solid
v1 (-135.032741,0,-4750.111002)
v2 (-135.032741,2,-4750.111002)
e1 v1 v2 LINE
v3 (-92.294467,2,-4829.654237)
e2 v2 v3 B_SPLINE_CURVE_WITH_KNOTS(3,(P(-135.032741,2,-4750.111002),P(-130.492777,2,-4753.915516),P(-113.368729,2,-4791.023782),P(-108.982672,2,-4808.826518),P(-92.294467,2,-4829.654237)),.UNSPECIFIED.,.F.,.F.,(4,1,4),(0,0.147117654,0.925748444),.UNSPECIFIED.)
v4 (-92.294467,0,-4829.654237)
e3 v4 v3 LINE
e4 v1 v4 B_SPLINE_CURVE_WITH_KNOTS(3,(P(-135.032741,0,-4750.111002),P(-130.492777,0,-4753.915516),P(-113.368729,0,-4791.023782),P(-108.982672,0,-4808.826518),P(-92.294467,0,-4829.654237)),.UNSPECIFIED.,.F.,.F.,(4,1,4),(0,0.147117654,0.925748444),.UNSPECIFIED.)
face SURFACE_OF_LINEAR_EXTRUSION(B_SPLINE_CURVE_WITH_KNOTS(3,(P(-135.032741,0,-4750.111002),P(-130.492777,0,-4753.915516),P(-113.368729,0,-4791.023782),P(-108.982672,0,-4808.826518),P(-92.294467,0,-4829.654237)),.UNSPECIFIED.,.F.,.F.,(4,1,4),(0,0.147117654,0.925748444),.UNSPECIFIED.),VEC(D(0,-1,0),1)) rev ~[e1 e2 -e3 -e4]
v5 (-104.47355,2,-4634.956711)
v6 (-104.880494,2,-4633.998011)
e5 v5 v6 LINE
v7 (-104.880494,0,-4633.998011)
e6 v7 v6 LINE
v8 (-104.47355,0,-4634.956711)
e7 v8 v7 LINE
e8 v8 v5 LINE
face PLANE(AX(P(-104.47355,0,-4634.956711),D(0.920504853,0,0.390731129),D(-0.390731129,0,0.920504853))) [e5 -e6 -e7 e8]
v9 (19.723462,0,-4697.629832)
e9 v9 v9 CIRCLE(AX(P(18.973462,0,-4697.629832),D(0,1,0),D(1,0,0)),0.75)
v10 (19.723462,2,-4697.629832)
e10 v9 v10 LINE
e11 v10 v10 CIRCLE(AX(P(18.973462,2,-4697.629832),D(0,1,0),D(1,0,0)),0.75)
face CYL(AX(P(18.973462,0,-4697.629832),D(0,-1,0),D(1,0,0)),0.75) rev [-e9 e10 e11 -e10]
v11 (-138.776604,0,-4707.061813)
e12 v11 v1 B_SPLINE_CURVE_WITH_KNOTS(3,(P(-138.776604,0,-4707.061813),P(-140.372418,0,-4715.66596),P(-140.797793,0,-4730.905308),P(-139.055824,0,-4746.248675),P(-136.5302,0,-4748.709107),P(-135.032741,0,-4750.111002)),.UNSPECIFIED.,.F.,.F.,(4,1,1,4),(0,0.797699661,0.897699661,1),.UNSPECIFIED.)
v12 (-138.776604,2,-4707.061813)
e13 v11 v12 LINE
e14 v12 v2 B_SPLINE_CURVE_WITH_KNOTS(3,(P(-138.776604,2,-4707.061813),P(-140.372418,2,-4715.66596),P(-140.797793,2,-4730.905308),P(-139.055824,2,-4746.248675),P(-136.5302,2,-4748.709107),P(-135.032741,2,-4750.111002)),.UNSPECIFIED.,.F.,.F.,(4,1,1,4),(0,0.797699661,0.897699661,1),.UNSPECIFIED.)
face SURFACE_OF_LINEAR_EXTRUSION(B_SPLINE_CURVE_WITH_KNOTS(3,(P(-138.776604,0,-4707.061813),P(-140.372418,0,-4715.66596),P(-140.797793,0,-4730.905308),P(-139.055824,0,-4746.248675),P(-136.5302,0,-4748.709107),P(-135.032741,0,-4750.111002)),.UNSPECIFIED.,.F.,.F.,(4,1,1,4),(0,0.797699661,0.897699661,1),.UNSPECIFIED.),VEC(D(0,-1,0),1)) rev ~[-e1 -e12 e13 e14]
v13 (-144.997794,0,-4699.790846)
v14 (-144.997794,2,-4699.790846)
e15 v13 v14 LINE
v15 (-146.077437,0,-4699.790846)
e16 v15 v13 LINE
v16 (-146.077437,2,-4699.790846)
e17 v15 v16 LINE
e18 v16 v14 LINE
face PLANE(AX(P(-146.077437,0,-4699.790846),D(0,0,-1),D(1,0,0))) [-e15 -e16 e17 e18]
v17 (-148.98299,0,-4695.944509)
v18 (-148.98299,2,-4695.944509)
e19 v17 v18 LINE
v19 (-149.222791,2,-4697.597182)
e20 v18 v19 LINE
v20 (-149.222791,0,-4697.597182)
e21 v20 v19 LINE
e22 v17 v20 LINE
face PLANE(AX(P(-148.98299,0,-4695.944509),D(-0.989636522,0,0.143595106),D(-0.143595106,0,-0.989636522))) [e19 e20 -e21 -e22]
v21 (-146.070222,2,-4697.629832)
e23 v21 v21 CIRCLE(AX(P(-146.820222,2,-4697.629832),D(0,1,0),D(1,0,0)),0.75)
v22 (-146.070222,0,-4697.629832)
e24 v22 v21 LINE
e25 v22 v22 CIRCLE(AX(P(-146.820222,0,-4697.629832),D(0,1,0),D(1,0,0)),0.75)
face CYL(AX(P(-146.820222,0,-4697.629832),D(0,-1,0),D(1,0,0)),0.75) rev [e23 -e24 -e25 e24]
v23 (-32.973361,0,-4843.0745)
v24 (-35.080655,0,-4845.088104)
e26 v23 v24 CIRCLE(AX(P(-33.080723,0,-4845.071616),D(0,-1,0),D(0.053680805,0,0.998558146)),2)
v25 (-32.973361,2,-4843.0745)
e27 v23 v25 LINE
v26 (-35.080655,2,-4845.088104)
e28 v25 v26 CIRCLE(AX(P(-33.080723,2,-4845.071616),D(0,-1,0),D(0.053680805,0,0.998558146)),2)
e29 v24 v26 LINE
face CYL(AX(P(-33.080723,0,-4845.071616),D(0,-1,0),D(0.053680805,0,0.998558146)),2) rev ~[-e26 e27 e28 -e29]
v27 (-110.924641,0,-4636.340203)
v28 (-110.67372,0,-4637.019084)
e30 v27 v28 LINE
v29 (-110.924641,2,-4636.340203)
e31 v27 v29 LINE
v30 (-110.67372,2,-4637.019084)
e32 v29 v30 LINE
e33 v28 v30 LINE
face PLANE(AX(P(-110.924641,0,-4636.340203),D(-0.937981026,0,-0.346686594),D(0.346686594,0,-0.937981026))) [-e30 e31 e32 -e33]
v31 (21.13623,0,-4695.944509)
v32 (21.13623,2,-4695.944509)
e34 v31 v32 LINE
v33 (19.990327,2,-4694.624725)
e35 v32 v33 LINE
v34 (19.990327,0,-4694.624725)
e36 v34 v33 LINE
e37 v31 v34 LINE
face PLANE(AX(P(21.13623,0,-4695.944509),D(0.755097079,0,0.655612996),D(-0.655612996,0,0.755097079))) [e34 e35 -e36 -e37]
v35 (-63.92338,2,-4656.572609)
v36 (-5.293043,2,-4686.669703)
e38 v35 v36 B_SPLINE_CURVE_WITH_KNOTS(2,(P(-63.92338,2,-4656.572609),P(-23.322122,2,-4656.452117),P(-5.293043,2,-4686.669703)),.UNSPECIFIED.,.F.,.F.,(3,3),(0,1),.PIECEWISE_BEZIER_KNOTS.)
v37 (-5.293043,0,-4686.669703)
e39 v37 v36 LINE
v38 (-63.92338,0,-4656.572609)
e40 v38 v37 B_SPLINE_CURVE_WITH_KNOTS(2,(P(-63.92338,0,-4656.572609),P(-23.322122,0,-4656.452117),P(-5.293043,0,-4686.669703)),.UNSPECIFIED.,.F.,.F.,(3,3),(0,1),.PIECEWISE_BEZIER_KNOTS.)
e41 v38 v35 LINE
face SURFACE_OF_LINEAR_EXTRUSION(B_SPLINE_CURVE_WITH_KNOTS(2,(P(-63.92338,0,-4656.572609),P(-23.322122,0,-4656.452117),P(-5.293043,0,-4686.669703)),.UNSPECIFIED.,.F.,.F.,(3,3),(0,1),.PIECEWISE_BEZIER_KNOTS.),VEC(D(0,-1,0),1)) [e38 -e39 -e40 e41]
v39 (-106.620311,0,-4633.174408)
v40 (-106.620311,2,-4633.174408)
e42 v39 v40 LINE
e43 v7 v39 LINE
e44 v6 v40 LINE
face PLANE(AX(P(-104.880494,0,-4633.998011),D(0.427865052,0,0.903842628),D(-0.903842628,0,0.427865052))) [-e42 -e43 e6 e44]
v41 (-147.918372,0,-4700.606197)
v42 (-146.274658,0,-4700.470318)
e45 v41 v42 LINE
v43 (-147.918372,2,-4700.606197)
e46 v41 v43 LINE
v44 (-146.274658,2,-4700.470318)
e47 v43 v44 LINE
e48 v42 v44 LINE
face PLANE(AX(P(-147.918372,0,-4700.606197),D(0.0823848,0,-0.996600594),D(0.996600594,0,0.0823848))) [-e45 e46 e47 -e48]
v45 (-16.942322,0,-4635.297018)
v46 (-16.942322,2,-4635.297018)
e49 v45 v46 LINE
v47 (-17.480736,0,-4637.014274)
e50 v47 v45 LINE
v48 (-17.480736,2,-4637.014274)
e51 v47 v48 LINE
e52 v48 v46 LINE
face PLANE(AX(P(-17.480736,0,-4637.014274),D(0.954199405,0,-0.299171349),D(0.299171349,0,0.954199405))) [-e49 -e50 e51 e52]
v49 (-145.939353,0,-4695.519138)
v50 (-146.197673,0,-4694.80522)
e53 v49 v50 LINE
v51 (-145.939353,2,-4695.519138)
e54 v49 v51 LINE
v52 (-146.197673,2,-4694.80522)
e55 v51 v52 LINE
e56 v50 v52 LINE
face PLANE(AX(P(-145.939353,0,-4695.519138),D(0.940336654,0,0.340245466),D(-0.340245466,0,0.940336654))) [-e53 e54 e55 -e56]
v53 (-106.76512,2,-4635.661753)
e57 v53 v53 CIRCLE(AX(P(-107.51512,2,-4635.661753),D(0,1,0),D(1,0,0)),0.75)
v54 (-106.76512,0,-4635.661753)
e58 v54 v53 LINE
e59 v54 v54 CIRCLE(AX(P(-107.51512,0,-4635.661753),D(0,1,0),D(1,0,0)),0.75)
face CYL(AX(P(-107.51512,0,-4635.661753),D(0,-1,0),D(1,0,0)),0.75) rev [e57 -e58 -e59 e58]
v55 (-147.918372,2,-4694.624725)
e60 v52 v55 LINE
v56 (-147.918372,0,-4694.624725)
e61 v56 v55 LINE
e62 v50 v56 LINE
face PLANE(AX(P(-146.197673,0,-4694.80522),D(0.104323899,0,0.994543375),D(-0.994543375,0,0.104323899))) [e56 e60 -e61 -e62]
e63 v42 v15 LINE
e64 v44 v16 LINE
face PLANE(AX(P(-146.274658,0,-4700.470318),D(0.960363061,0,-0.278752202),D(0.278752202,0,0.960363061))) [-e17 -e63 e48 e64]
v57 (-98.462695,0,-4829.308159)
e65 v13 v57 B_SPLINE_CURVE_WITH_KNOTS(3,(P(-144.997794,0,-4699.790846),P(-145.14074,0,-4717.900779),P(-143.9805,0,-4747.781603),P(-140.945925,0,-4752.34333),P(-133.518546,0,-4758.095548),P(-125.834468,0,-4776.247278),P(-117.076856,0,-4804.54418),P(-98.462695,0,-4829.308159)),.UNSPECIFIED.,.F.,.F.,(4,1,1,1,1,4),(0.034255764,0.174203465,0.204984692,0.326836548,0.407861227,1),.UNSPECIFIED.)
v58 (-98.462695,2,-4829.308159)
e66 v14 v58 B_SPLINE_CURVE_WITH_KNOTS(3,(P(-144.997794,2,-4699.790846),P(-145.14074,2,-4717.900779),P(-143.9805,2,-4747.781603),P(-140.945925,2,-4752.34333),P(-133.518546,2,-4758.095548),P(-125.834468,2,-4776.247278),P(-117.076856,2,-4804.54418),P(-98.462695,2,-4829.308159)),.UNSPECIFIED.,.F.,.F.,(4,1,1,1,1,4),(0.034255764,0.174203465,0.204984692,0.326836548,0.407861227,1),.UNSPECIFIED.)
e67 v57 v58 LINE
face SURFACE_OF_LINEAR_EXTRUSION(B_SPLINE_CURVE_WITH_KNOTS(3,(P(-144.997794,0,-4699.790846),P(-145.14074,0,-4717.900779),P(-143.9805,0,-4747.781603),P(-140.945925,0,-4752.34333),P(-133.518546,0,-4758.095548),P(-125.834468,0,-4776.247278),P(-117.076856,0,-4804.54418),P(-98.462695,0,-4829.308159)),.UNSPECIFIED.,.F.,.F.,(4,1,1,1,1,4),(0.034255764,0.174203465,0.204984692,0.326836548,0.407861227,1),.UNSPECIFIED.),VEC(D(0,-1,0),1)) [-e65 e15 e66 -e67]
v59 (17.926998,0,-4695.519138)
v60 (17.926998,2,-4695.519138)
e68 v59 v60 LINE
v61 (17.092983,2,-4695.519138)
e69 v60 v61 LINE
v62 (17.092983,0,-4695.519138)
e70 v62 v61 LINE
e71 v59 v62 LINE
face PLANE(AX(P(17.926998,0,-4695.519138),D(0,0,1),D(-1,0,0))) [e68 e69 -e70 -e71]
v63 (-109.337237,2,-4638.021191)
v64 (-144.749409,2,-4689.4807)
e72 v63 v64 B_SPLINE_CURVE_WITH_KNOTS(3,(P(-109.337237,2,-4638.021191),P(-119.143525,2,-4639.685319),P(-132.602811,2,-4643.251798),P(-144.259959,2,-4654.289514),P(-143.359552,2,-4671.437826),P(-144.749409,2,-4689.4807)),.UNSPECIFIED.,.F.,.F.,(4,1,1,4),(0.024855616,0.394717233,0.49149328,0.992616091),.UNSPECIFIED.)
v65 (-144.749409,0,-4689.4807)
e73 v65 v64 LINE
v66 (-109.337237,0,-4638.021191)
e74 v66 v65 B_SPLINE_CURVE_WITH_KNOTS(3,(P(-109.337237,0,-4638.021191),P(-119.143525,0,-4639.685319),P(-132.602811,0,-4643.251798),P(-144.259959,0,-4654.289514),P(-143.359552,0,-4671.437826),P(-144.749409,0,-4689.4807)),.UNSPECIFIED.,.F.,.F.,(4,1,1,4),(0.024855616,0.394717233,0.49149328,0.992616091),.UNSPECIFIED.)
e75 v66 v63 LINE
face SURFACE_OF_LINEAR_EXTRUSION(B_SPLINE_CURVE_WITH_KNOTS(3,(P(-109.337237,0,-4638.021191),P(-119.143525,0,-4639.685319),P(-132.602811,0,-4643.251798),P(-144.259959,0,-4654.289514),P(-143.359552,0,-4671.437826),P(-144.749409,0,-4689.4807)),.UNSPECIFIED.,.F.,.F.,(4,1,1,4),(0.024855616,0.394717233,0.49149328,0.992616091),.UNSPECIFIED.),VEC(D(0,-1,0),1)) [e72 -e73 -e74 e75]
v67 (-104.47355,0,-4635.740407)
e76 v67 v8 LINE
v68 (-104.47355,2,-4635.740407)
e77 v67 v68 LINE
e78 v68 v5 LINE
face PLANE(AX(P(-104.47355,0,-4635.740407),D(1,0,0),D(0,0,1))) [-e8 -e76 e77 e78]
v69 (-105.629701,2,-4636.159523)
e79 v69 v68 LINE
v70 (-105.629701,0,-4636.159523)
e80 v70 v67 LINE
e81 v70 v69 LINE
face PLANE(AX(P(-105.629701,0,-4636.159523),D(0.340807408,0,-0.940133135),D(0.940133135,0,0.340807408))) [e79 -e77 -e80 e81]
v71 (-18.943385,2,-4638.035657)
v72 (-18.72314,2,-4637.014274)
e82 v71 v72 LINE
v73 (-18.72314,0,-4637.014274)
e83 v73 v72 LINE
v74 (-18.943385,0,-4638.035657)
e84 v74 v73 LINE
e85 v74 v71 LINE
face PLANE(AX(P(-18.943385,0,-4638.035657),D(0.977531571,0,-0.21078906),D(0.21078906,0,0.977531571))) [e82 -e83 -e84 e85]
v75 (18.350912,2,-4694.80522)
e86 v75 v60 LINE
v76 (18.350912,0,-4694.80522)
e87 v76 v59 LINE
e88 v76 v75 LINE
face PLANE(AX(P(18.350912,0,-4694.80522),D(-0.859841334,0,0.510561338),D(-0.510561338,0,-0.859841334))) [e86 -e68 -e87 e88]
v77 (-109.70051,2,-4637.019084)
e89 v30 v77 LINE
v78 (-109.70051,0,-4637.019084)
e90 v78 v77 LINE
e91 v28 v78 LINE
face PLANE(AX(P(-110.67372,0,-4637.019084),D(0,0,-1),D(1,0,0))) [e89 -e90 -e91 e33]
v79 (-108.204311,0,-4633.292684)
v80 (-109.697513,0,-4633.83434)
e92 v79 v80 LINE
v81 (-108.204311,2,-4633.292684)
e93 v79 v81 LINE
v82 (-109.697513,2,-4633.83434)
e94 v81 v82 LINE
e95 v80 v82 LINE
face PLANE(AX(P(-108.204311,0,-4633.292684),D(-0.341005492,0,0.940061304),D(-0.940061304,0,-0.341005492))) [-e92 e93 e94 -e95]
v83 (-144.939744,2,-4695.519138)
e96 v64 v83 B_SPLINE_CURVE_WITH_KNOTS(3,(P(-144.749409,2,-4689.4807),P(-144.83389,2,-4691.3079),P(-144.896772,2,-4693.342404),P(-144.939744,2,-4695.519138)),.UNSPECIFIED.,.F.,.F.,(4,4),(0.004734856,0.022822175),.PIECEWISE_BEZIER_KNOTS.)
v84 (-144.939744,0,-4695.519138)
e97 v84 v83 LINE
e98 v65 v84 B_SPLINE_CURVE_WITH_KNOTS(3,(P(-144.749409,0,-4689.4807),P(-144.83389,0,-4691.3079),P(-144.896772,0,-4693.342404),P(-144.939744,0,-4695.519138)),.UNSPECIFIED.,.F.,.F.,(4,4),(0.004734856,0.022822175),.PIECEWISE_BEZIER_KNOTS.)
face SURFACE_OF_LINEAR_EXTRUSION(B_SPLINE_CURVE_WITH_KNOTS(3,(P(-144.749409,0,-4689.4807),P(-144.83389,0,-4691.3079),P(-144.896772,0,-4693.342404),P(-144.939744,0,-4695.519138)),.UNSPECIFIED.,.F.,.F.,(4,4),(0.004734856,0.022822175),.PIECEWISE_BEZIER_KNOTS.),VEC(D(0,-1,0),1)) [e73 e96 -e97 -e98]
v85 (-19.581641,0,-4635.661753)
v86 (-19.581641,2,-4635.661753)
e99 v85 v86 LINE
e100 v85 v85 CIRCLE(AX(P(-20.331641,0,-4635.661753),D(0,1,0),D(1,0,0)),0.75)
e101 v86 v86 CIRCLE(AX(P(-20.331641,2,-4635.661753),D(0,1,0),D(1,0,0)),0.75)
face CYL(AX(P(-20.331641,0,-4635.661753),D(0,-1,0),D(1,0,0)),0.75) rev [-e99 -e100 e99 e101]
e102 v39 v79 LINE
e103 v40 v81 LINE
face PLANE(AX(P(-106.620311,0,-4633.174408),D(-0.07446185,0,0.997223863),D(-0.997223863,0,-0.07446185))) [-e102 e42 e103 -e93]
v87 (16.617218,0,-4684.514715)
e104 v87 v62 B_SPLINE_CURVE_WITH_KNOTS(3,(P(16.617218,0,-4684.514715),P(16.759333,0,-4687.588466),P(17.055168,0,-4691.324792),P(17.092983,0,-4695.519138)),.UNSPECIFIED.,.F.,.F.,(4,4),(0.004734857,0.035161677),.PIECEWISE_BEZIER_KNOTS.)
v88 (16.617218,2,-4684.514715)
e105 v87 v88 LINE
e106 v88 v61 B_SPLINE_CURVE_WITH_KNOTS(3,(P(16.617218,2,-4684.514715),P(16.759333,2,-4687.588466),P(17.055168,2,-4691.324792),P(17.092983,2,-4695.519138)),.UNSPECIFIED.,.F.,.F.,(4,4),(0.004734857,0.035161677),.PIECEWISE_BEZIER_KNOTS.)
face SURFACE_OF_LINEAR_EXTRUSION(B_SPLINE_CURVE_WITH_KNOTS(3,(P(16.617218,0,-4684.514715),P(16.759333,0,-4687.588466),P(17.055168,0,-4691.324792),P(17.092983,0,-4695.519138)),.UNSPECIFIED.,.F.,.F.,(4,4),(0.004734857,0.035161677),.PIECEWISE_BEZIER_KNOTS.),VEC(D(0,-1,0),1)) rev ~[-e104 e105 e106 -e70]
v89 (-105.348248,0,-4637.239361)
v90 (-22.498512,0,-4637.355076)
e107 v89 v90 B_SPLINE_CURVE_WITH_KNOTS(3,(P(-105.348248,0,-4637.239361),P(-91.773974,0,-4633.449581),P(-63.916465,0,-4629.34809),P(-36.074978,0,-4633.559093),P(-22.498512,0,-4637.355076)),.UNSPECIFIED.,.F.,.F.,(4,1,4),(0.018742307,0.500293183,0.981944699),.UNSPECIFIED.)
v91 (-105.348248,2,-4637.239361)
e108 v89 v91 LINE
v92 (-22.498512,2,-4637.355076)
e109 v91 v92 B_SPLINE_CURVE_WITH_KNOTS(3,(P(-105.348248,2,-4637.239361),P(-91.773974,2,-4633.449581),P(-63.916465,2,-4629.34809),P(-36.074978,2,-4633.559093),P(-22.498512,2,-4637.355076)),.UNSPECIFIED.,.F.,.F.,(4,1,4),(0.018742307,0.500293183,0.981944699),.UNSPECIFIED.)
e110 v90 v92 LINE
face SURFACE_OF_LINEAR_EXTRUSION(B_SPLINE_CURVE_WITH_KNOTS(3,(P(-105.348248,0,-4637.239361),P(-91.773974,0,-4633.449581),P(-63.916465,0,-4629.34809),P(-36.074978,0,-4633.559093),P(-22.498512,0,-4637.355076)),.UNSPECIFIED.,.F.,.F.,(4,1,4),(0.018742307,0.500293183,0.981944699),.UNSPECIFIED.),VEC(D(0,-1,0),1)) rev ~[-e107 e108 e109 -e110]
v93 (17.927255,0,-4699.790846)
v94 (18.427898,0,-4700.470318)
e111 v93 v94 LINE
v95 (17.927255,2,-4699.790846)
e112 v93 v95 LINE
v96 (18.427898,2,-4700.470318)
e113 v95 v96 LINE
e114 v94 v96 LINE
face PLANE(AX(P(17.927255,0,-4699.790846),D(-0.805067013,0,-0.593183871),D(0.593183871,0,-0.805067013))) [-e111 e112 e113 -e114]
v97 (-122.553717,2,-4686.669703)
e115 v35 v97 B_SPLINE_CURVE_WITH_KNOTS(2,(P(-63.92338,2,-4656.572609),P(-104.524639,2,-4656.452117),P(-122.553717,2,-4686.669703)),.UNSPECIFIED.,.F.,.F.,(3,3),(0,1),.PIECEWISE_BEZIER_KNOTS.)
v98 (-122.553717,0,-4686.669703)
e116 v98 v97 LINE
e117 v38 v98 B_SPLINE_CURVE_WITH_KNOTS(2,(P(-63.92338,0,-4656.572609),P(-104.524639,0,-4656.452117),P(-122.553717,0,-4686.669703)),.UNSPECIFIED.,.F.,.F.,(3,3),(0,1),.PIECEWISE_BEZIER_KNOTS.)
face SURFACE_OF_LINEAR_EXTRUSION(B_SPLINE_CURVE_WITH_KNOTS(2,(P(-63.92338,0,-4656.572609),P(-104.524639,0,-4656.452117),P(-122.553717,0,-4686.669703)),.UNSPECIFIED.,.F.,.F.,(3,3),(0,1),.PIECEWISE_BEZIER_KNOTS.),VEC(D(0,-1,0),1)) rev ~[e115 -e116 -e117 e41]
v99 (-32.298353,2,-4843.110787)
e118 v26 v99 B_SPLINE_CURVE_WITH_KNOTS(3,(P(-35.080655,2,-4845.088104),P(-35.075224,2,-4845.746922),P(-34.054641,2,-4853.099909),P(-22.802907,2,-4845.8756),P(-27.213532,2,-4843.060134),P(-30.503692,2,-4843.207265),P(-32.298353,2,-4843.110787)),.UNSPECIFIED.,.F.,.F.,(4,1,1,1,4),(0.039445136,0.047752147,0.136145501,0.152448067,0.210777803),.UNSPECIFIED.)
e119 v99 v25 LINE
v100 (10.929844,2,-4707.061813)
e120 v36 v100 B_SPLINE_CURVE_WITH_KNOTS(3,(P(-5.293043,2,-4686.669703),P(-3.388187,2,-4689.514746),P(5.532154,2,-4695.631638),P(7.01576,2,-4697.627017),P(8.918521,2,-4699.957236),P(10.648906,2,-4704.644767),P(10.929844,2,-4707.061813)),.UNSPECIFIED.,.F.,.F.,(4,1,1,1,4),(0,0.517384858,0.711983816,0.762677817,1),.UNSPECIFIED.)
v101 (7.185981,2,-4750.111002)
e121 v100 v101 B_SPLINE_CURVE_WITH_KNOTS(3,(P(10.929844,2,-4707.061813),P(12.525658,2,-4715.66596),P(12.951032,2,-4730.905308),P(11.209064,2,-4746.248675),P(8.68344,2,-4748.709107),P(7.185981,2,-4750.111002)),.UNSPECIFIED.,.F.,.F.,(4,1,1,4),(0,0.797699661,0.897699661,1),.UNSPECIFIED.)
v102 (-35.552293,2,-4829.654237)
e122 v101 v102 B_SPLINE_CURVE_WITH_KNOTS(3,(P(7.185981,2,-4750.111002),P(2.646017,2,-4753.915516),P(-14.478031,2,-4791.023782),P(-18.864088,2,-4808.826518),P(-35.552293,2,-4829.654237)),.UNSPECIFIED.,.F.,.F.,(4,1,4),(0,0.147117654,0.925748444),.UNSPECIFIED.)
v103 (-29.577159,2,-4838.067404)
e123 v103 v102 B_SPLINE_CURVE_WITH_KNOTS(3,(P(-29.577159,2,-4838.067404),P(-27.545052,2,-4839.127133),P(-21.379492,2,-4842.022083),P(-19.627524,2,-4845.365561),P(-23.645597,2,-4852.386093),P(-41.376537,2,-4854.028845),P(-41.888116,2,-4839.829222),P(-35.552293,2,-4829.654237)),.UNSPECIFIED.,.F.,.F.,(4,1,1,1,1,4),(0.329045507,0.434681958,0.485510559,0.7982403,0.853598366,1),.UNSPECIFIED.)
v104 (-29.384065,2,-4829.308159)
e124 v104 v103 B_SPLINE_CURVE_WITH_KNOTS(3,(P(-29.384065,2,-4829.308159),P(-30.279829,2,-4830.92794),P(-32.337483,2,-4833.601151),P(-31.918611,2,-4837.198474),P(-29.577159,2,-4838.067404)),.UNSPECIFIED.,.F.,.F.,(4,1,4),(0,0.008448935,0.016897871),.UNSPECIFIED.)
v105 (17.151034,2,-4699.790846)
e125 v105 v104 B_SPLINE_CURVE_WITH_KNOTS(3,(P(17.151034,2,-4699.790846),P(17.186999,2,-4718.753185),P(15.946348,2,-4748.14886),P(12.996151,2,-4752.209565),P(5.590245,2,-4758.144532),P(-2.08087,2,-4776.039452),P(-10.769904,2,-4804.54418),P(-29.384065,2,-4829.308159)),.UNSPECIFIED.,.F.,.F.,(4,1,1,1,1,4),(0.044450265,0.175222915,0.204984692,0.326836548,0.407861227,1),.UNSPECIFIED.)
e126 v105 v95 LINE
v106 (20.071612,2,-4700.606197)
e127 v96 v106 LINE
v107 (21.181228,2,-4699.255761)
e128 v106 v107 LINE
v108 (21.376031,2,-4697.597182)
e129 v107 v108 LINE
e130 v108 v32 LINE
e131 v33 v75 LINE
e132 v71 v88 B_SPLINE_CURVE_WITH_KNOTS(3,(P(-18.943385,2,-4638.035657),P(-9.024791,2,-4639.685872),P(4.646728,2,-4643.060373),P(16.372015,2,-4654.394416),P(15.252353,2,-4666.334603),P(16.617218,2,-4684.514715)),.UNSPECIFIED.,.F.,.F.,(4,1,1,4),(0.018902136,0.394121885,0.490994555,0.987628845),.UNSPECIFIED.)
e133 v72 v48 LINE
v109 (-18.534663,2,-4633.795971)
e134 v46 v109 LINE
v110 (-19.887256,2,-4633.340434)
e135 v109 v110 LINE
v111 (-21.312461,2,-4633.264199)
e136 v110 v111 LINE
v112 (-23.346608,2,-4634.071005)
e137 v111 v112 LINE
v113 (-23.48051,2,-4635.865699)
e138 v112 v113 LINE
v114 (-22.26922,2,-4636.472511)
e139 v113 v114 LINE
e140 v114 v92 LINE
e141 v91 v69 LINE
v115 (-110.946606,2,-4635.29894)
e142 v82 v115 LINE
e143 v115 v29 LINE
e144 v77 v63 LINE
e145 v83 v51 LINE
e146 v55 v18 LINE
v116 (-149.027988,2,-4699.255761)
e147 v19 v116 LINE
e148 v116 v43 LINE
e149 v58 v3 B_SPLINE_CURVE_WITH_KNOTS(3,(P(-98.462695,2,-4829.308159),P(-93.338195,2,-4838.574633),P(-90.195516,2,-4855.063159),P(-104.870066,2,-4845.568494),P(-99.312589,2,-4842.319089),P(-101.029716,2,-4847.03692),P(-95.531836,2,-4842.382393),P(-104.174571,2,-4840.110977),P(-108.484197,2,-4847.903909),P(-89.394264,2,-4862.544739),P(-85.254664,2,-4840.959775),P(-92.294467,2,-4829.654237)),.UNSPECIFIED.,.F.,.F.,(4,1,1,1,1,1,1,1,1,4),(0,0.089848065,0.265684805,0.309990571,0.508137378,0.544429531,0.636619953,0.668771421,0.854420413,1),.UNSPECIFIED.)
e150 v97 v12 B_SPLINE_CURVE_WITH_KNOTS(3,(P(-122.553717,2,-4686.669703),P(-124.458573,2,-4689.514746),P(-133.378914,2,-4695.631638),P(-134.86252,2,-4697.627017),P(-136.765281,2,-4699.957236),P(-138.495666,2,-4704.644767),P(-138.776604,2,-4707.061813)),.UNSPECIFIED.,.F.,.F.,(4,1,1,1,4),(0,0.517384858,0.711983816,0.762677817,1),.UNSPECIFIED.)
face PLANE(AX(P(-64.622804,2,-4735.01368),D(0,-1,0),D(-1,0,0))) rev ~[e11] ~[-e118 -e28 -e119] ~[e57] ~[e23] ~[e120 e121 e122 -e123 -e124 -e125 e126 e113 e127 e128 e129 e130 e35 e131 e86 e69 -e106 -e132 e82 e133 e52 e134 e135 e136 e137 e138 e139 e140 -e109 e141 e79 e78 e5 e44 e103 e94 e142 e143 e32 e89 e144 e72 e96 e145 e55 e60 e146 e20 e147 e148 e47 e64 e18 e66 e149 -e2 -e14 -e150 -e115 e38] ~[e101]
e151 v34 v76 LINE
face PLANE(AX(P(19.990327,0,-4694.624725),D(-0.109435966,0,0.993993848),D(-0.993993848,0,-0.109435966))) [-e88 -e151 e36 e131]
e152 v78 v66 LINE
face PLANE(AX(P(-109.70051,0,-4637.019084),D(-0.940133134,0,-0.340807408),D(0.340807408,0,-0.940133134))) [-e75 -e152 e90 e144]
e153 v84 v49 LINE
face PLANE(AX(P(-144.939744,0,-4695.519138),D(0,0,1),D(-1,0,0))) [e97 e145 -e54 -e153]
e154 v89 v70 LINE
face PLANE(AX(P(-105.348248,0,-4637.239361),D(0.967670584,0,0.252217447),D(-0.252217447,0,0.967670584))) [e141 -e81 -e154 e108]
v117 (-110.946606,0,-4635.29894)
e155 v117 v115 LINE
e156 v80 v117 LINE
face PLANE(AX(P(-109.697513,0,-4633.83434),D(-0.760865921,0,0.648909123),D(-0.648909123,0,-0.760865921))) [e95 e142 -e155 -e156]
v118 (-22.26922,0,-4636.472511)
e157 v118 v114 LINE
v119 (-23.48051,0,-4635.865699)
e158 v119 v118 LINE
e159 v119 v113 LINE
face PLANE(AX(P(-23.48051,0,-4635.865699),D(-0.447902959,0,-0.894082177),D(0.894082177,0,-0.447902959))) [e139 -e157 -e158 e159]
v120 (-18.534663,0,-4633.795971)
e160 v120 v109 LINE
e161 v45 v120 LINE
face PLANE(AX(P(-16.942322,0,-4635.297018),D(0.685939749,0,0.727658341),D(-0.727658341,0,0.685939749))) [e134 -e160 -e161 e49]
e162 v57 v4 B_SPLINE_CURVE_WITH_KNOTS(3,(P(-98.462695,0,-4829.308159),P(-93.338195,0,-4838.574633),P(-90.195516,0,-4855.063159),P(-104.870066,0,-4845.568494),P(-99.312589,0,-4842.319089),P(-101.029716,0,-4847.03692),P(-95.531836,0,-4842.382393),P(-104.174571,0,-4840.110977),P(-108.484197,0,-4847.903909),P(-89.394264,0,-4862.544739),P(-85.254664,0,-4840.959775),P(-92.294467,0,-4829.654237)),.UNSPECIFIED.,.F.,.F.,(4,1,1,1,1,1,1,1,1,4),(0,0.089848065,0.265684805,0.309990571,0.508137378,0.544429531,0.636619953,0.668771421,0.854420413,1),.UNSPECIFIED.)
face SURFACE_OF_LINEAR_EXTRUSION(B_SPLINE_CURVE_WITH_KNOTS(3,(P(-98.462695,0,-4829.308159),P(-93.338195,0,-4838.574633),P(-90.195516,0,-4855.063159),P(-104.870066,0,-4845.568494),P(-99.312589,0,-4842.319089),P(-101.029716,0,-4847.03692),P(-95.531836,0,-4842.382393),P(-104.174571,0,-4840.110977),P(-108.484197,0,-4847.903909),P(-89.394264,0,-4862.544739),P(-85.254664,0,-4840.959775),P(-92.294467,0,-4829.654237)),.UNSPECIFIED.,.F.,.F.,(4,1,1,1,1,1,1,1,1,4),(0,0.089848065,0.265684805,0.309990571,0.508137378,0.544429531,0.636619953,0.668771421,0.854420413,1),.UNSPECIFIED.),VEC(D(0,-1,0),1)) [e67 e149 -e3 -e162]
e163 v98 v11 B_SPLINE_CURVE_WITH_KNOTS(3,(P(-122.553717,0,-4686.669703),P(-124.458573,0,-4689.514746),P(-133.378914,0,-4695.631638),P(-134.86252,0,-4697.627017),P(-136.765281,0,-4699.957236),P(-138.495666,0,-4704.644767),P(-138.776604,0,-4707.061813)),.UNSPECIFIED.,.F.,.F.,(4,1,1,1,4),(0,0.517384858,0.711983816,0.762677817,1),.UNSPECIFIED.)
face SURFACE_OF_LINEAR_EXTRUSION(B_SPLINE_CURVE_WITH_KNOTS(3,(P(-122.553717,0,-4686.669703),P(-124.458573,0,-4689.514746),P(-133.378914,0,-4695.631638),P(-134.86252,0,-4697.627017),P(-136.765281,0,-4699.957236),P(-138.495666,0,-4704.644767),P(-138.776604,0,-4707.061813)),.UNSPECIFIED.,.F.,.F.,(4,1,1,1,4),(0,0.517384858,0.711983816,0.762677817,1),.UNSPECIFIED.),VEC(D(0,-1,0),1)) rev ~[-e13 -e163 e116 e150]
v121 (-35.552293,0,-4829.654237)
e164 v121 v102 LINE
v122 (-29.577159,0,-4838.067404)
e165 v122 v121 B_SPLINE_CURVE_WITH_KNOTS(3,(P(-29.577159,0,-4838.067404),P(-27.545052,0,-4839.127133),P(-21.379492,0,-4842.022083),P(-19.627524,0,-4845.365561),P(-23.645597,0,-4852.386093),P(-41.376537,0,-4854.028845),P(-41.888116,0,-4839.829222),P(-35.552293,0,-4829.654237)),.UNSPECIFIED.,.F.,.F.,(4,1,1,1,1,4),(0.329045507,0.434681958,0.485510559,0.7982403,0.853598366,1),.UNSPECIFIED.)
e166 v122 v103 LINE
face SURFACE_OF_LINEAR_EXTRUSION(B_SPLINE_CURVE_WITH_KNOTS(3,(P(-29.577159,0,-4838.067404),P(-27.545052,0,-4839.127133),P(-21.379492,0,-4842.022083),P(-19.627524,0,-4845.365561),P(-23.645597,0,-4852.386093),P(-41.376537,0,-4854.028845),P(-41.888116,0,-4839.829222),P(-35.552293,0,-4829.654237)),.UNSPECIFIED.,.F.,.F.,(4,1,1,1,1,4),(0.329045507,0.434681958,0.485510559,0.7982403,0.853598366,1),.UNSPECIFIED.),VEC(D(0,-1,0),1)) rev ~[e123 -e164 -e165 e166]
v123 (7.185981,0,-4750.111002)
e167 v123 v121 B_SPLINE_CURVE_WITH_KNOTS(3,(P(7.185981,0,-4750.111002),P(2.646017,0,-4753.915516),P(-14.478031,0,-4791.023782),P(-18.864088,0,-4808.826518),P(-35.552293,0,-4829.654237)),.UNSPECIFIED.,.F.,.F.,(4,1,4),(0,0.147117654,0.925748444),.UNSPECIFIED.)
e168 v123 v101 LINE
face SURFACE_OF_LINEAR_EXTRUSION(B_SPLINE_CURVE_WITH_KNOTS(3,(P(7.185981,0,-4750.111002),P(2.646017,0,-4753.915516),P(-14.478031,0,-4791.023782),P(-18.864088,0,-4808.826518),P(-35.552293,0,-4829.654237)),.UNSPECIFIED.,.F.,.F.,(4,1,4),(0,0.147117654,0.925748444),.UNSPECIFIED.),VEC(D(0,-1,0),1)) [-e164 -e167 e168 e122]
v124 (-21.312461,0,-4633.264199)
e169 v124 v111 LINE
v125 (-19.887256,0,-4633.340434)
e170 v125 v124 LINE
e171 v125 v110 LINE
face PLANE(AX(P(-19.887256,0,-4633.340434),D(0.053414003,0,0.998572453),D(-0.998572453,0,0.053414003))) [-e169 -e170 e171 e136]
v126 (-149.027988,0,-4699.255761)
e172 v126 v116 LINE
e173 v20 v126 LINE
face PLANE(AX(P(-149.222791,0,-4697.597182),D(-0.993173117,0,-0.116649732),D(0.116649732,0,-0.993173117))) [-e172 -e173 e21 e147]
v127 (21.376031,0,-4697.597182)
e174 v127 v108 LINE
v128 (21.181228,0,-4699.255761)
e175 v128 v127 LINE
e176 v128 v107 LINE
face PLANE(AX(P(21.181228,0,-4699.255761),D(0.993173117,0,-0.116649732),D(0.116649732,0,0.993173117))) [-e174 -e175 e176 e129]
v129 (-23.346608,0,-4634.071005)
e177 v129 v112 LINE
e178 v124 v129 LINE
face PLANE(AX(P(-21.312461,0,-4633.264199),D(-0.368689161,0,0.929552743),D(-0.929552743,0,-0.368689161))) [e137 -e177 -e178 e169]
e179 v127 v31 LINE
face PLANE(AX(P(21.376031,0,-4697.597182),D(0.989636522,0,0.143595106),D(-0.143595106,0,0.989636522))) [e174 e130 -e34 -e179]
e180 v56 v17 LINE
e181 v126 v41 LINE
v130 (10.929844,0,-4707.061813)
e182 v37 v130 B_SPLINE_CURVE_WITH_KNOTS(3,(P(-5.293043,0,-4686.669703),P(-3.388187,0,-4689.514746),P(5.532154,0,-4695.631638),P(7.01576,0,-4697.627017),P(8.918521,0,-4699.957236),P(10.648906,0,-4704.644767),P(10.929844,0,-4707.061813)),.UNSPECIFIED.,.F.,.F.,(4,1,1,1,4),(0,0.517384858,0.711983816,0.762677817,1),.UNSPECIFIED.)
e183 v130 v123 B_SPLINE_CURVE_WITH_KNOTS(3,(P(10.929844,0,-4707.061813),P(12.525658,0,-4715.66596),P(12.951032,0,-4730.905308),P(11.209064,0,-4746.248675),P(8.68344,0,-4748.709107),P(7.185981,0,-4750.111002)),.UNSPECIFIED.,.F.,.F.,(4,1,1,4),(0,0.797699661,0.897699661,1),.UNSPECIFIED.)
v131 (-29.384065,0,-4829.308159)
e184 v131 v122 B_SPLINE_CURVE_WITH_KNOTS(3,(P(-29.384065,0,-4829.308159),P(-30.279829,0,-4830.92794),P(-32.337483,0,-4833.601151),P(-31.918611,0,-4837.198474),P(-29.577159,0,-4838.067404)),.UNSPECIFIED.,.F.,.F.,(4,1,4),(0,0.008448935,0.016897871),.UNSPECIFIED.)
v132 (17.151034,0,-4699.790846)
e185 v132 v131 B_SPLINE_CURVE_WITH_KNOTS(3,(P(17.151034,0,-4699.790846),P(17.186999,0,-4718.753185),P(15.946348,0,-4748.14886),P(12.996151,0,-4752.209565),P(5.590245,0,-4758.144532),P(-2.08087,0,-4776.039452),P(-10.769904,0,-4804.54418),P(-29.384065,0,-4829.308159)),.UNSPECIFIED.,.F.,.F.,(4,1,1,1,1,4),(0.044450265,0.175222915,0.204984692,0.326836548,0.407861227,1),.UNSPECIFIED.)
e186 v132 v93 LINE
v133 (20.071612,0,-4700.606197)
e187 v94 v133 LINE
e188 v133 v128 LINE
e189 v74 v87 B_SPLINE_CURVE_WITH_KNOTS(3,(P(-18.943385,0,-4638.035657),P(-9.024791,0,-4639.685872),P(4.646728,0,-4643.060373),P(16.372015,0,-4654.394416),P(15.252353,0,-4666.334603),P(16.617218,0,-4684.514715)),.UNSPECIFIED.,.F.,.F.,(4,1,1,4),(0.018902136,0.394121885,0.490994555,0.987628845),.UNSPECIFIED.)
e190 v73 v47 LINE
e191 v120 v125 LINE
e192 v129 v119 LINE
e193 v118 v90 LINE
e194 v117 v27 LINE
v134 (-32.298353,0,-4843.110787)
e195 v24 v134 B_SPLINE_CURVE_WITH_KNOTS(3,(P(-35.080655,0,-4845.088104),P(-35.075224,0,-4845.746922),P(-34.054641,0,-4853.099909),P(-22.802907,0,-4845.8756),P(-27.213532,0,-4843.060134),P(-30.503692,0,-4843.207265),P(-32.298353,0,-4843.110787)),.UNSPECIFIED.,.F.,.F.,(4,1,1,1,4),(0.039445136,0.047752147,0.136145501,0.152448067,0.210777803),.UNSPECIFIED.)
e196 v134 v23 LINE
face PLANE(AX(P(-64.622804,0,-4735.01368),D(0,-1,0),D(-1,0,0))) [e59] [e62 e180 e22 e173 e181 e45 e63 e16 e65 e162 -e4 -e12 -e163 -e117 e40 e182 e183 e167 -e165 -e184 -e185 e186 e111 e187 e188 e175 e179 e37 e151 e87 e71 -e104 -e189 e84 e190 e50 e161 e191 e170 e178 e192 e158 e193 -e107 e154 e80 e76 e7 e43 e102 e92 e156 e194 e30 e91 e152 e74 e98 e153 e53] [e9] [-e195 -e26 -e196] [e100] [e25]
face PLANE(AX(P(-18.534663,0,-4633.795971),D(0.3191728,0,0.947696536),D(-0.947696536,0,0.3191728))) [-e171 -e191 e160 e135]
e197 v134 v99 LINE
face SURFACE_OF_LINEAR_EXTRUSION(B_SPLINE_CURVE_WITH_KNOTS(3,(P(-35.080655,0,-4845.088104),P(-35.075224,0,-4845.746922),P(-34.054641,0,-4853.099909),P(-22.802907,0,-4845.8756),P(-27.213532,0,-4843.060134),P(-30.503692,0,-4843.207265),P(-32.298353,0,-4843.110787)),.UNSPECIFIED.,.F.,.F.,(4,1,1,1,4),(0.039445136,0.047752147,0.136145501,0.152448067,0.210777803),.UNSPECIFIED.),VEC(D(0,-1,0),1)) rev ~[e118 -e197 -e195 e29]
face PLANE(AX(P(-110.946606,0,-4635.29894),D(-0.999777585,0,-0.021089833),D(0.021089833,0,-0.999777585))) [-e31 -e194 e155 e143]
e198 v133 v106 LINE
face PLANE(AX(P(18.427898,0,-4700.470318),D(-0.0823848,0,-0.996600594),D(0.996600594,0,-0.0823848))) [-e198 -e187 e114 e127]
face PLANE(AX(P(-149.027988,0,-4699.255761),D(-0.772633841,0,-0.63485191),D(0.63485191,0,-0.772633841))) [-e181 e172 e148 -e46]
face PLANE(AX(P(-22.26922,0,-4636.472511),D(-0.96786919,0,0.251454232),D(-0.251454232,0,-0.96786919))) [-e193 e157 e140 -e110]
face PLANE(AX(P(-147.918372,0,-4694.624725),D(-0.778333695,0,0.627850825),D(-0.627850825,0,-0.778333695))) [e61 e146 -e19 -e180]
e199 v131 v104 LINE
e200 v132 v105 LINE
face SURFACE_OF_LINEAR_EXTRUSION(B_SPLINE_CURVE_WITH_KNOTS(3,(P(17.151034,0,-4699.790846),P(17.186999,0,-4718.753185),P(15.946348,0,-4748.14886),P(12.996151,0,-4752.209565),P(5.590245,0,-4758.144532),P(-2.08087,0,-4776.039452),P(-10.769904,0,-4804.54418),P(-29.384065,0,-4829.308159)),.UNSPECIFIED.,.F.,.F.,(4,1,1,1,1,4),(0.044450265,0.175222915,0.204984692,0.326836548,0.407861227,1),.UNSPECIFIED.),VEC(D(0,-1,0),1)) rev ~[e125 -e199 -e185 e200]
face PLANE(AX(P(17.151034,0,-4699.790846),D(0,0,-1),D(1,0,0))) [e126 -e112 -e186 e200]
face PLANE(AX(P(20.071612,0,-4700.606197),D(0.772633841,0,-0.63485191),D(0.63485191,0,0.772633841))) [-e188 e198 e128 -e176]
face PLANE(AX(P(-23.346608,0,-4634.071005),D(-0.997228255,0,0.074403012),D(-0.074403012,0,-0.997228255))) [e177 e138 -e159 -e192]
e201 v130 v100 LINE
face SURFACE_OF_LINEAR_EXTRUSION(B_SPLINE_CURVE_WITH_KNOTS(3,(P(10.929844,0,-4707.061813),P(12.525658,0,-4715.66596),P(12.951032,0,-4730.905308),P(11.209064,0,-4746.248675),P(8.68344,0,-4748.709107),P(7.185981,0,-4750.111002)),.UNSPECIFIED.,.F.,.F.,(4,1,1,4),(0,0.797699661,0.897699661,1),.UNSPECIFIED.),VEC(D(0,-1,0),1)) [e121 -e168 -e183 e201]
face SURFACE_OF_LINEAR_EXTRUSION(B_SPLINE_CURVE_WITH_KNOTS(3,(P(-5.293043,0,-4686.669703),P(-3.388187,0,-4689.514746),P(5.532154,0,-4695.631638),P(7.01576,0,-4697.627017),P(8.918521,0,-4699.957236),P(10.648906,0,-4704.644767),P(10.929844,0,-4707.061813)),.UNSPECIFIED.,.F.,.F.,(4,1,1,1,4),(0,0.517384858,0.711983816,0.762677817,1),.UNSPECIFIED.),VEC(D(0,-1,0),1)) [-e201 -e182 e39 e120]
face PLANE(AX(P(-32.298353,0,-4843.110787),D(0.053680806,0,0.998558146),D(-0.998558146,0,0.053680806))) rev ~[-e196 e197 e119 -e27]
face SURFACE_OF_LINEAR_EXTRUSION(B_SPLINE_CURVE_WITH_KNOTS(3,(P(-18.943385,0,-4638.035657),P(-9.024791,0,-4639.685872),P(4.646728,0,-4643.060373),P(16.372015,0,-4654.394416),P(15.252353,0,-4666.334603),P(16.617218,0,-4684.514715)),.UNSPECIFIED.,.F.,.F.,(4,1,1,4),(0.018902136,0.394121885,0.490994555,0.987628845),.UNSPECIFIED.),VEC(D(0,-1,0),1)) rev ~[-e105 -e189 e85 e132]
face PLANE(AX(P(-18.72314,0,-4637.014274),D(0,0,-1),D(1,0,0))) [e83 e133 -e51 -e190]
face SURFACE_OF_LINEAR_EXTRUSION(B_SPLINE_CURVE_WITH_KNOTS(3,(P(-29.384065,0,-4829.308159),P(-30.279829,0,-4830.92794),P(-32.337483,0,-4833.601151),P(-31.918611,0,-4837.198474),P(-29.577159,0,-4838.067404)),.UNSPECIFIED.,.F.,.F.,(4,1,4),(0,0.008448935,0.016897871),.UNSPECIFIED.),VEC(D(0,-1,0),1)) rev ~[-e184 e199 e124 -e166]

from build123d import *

# Parameters (mm, degrees)
SKETCH2_R           = 0.75
BOSS_EXTRUDE2_DEPTH = 2


with BuildPart() as part:
    # Sketch2 → Boss-Extrude2 (new body)
    with BuildSketch(Plane(origin=(0, 0, 0), x_dir=(1, 0, 0), z_dir=(0, 1, 0))):
        with BuildLine():
            Line((-16.94232243, 4635.297018365), (-18.534662591, 4633.795971308))
            Line((-18.534662591, 4633.795971308), (-19.887255597, 4633.340434244))
            Line((-19.887255597, 4633.340434244), (-21.312460887, 4633.264199495))
            Line((-21.312460887, 4633.264199495), (-23.346608072, 4634.07100473))
            Line((-23.346608072, 4634.07100473), (-23.480509856, 4635.86569876))
            Line((-23.480509856, 4635.86569876), (-22.26922003, 4636.472511323))
            Line((-22.26922003, 4636.472511323), (-22.498511996, 4637.355076027))
            add(Edge.make_bspline(
                [(-105.348248264, 4637.239361207), (-91.773973611, 4633.449581192), (-63.91646452, 4629.348089946), (-36.074978393, 4633.559092847), (-22.498511996, 4637.355076027)],
                knots=[0.018742307, 0.018742307, 0.018742307, 0.018742307, 0.500293183, 0.981944699, 0.981944699, 0.981944699, 0.981944699], degree=3))
            Line((-105.348248264, 4637.239361207), (-105.629701484, 4636.159523134))
            Line((-105.629701484, 4636.159523134), (-104.473549573, 4635.740406818))
            Line((-104.473549573, 4635.740406818), (-104.473549573, 4634.956711321))
            Line((-104.473549573, 4634.956711321), (-104.880493791, 4633.998010823))
            Line((-104.880493791, 4633.998010823), (-106.620311483, 4633.174408169))
            Line((-106.620311483, 4633.174408169), (-108.20431104, 4633.292684057))
            Line((-108.20431104, 4633.292684057), (-109.697513062, 4633.834340317))
            Line((-109.697513062, 4633.834340317), (-110.946606143, 4635.298940402))
            Line((-110.946606143, 4635.298940402), (-110.924641203, 4636.340202994))
            Line((-110.924641203, 4636.340202994), (-110.673720292, 4637.019084317))
            Line((-110.673720292, 4637.019084317), (-109.700510236, 4637.019084317))
            Line((-109.700510236, 4637.019084317), (-109.337236897, 4638.021190769))
            add(Edge.make_bspline(
                [(-109.337236897, 4638.021190769), (-119.14352525, 4639.685319313), (-132.602811475, 4643.251798031), (-144.259959312, 4654.289514228), (-143.359552227, 4671.437825607), (-144.749408582, 4689.48069966)],
                knots=[0.024855616, 0.024855616, 0.024855616, 0.024855616, 0.394717233, 0.49149328, 0.992616091, 0.992616091, 0.992616091, 0.992616091], degree=3))
            add(Edge.make_bspline(
                [(-144.749408582, 4689.48069966), (-144.833889745, 4691.307900212), (-144.896771823, 4693.342403801), (-144.93974364, 4695.519138342)],
                knots=[0.004734856, 0.004734856, 0.004734856, 0.004734856, 0.022822175, 0.022822175, 0.022822175, 0.022822175], degree=3))
            Line((-144.93974364, 4695.519138342), (-145.939352996, 4695.519138342))
            Line((-145.939352996, 4695.519138342), (-146.197672667, 4694.80522007))
            Line((-146.197672667, 4694.80522007), (-147.918372484, 4694.624725063))
            Line((-147.918372484, 4694.624725063), (-148.98298998, 4695.944509376))
            Line((-148.98298998, 4695.944509376), (-149.222790895, 4697.597182293))
            Line((-149.222790895, 4697.597182293), (-149.027988208, 4699.255761252))
            Line((-149.027988208, 4699.255761252), (-147.918372484, 4700.606196913))
            Line((-147.918372484, 4700.606196913), (-146.274658466, 4700.470317954))
            Line((-146.274658466, 4700.470317954), (-146.077436972, 4699.790846236))
            Line((-146.077436972, 4699.790846236), (-144.997793977, 4699.790846236))
            add(Edge.make_bspline(
                [(-144.997793977, 4699.790846236), (-145.140739705, 4717.900779), (-143.980499513, 4747.781602798), (-140.945925182, 4752.343329702), (-133.518546426, 4758.095548291), (-125.834467772, 4776.247277702), (-117.076856476, 4804.544180166), (-98.462694945, 4829.308158932)],
                knots=[0.034255764, 0.034255764, 0.034255764, 0.034255764, 0.174203465, 0.204984692, 0.326836548, 0.407861227, 1, 1, 1, 1], degree=3))
            add(Edge.make_bspline(
                [(-98.462694945, 4829.308158932), (-93.338195312, 4838.574633039), (-90.195516318, 4855.063159321), (-104.870066172, 4845.568494242), (-99.312588758, 4842.31908912), (-101.029716126, 4847.036920255), (-95.531835724, 4842.382392631), (-104.17457082, 4840.110977299), (-108.484196771, 4847.903909117), (-89.394263588, 4862.544739312), (-85.254664303, 4840.959775456), (-92.294467324, 4829.654236917)],
                knots=[0, 0, 0, 0, 0.089848065, 0.265684805, 0.309990571, 0.508137378, 0.544429531, 0.636619953, 0.668771421, 0.854420413, 1, 1, 1, 1], degree=3))
            add(Edge.make_bspline(
                [(-135.032740768, 4750.111001922), (-130.492777431, 4753.915516125), (-113.368729467, 4791.023782379), (-108.982672337, 4808.826517659), (-92.294467324, 4829.654236917)],
                knots=[0, 0, 0, 0, 0.147117654, 0.925748444, 0.925748444, 0.925748444, 0.925748444], degree=3))
            add(Edge.make_bspline(
                [(-138.776603849, 4707.061813065), (-140.372417965, 4715.665959829), (-140.797792532, 4730.905308146), (-139.055824108, 4746.24867545), (-136.530200286, 4748.70910668), (-135.032740768, 4750.111001922)],
                knots=[0, 0, 0, 0, 0.797699661, 0.897699661, 1, 1, 1, 1], degree=3))
            add(Edge.make_bspline(
                [(-122.553716851, 4686.669702846), (-124.458572981, 4689.514746254), (-133.378914312, 4695.631638467), (-134.862520268, 4697.627016687), (-136.765281392, 4699.957235784), (-138.495666225, 4704.644766972), (-138.776603849, 4707.061813065)],
                knots=[0, 0, 0, 0, 0.517384858, 0.711983816, 0.762677817, 1, 1, 1, 1], degree=3))
            add(Edge.make_bspline(
                [(-63.92338013, 4656.572608608), (-104.524638736, 4656.452117341), (-122.553716851, 4686.669702846)],
                knots=[0, 0, 0, 1, 1, 1], degree=2))
            add(Edge.make_bspline(
                [(-63.92338013, 4656.572608608), (-23.322121525, 4656.452117341), (-5.29304341, 4686.669702846)],
                knots=[0, 0, 0, 1, 1, 1], degree=2))
            add(Edge.make_bspline(
                [(-5.29304341, 4686.669702846), (-3.38818728, 4689.514746254), (5.532154051, 4695.631638467), (7.015760007, 4697.627016687), (8.918521131, 4699.957235784), (10.648905964, 4704.644766972), (10.929843589, 4707.061813065)],
                knots=[0, 0, 0, 0, 0.517384858, 0.711983816, 0.762677817, 1, 1, 1, 1], degree=3))
            add(Edge.make_bspline(
                [(10.929843589, 4707.061813065), (12.525657705, 4715.665959829), (12.951032272, 4730.905308146), (11.209063847, 4746.24867545), (8.683440025, 4748.70910668), (7.185980508, 4750.111001922)],
                knots=[0, 0, 0, 0, 0.797699661, 0.897699661, 1, 1, 1, 1], degree=3))
            add(Edge.make_bspline(
                [(7.185980508, 4750.111001922), (2.64601717, 4753.915516125), (-14.478030794, 4791.023782379), (-18.864087923, 4808.826517659), (-35.552292937, 4829.654236917)],
                knots=[0, 0, 0, 0, 0.147117654, 0.925748444, 0.925748444, 0.925748444, 0.925748444], degree=3))
            add(Edge.make_bspline(
                [(-29.577159118, 4838.067403545), (-27.545051952, 4839.127132506), (-21.379492189, 4842.022083013), (-19.627523599, 4845.365560863), (-23.645596823, 4852.386092575), (-41.376537478, 4854.028844833), (-41.888115655, 4839.829221602), (-35.552292937, 4829.654236917)],
                knots=[0.329045507, 0.329045507, 0.329045507, 0.329045507, 0.434681958, 0.485510559, 0.7982403, 0.853598366, 1, 1, 1, 1], degree=3))
            add(Edge.make_bspline(
                [(-29.384065315, 4829.308158932), (-30.279828858, 4830.927940426), (-32.337483277, 4833.601150674), (-31.918610801, 4837.198474175), (-29.577159118, 4838.067403545)],
                knots=[0, 0, 0, 0, 0.008448935, 0.016897871, 0.016897871, 0.016897871, 0.016897871], degree=3))
            add(Edge.make_bspline(
                [(17.151033717, 4699.790846236), (17.186998591, 4718.753185432), (15.94634825, 4748.148860321), (12.996151343, 4752.209564814), (5.590245105, 4758.14453206), (-2.080870076, 4776.039451645), (-10.769903785, 4804.544180166), (-29.384065315, 4829.308158932)],
                knots=[0.044450265, 0.044450265, 0.044450265, 0.044450265, 0.175222915, 0.204984692, 0.326836548, 0.407861227, 1, 1, 1, 1], degree=3))
            Line((17.151033717, 4699.790846236), (17.927254585, 4699.790846236))
            Line((17.927254585, 4699.790846236), (18.427898205, 4700.470317954))
            Line((18.427898205, 4700.470317954), (20.071612224, 4700.606196913))
            Line((20.071612224, 4700.606196913), (21.181227948, 4699.255761252))
            Line((21.181227948, 4699.255761252), (21.376030634, 4697.597182293))
            Line((21.376030634, 4697.597182293), (21.136229719, 4695.944509376))
            Line((21.136229719, 4695.944509376), (19.990327064, 4694.624725063))
            Line((19.990327064, 4694.624725063), (18.350912407, 4694.80522007))
            Line((18.350912407, 4694.80522007), (17.926998071, 4695.519138342))
            Line((17.926998071, 4695.519138342), (17.092983379, 4695.519138342))
            add(Edge.make_bspline(
                [(16.61721801, 4684.514714632), (16.759333405, 4687.588466409), (17.055168032, 4691.324791696), (17.092983379, 4695.519138342)],
                knots=[0.004734857, 0.004734857, 0.004734857, 0.004734857, 0.035161677, 0.035161677, 0.035161677, 0.035161677], degree=3))
            add(Edge.make_bspline(
                [(-18.943384636, 4638.035656948), (-9.024791136, 4639.685871765), (4.646728482, 4643.060373116), (16.372015333, 4654.394416396), (15.252352932, 4666.334603474), (16.61721801, 4684.514714632)],
                knots=[0.018902136, 0.018902136, 0.018902136, 0.018902136, 0.394121885, 0.490994555, 0.987628845, 0.987628845, 0.987628845, 0.987628845], degree=3))
            Line((-18.943384636, 4638.035656948), (-18.723139757, 4637.014274136))
            Line((-18.723139757, 4637.014274136), (-17.480735808, 4637.014274136))
            Line((-17.480735808, 4637.014274136), (-16.94232243, 4635.297018365))
        make_face()
        with Locations((-20.331640643, 4635.661753265)):
            Circle(SKETCH2_R, mode=Mode.SUBTRACT)
        with Locations((-107.515119617, 4635.661753265)):
            Circle(SKETCH2_R, mode=Mode.SUBTRACT)
        with Locations((18.97346222, 4697.629831976)):
            Circle(SKETCH2_R, mode=Mode.SUBTRACT)
        with Locations((-146.82022248, 4697.629831976)):
            Circle(SKETCH2_R, mode=Mode.SUBTRACT)
        with BuildLine():
            Line((-32.298353483, 4843.110786916), (-32.973361471, 4843.074499622))
            ThreePointArc((-32.973361471, 4843.074499622), (-34.462427064, 4843.625623485), (-35.080655121, 4845.088103544))
            add(Edge.make_bspline(
                [(-35.080655121, 4845.088103544), (-35.07522376, 4845.746921826), (-34.054641359, 4853.099908746), (-22.802907261, 4845.875599853), (-27.213531859, 4843.060134174), (-30.503691524, 4843.207264923), (-32.298353483, 4843.110786916)],
                knots=[0.039445136, 0.039445136, 0.039445136, 0.039445136, 0.047752147, 0.136145501, 0.152448067, 0.210777803, 0.210777803, 0.210777803, 0.210777803], degree=3))
        make_face(mode=Mode.SUBTRACT)
    extrude(amount=BOSS_EXTRUDE2_DEPTH)


solid = part.part
